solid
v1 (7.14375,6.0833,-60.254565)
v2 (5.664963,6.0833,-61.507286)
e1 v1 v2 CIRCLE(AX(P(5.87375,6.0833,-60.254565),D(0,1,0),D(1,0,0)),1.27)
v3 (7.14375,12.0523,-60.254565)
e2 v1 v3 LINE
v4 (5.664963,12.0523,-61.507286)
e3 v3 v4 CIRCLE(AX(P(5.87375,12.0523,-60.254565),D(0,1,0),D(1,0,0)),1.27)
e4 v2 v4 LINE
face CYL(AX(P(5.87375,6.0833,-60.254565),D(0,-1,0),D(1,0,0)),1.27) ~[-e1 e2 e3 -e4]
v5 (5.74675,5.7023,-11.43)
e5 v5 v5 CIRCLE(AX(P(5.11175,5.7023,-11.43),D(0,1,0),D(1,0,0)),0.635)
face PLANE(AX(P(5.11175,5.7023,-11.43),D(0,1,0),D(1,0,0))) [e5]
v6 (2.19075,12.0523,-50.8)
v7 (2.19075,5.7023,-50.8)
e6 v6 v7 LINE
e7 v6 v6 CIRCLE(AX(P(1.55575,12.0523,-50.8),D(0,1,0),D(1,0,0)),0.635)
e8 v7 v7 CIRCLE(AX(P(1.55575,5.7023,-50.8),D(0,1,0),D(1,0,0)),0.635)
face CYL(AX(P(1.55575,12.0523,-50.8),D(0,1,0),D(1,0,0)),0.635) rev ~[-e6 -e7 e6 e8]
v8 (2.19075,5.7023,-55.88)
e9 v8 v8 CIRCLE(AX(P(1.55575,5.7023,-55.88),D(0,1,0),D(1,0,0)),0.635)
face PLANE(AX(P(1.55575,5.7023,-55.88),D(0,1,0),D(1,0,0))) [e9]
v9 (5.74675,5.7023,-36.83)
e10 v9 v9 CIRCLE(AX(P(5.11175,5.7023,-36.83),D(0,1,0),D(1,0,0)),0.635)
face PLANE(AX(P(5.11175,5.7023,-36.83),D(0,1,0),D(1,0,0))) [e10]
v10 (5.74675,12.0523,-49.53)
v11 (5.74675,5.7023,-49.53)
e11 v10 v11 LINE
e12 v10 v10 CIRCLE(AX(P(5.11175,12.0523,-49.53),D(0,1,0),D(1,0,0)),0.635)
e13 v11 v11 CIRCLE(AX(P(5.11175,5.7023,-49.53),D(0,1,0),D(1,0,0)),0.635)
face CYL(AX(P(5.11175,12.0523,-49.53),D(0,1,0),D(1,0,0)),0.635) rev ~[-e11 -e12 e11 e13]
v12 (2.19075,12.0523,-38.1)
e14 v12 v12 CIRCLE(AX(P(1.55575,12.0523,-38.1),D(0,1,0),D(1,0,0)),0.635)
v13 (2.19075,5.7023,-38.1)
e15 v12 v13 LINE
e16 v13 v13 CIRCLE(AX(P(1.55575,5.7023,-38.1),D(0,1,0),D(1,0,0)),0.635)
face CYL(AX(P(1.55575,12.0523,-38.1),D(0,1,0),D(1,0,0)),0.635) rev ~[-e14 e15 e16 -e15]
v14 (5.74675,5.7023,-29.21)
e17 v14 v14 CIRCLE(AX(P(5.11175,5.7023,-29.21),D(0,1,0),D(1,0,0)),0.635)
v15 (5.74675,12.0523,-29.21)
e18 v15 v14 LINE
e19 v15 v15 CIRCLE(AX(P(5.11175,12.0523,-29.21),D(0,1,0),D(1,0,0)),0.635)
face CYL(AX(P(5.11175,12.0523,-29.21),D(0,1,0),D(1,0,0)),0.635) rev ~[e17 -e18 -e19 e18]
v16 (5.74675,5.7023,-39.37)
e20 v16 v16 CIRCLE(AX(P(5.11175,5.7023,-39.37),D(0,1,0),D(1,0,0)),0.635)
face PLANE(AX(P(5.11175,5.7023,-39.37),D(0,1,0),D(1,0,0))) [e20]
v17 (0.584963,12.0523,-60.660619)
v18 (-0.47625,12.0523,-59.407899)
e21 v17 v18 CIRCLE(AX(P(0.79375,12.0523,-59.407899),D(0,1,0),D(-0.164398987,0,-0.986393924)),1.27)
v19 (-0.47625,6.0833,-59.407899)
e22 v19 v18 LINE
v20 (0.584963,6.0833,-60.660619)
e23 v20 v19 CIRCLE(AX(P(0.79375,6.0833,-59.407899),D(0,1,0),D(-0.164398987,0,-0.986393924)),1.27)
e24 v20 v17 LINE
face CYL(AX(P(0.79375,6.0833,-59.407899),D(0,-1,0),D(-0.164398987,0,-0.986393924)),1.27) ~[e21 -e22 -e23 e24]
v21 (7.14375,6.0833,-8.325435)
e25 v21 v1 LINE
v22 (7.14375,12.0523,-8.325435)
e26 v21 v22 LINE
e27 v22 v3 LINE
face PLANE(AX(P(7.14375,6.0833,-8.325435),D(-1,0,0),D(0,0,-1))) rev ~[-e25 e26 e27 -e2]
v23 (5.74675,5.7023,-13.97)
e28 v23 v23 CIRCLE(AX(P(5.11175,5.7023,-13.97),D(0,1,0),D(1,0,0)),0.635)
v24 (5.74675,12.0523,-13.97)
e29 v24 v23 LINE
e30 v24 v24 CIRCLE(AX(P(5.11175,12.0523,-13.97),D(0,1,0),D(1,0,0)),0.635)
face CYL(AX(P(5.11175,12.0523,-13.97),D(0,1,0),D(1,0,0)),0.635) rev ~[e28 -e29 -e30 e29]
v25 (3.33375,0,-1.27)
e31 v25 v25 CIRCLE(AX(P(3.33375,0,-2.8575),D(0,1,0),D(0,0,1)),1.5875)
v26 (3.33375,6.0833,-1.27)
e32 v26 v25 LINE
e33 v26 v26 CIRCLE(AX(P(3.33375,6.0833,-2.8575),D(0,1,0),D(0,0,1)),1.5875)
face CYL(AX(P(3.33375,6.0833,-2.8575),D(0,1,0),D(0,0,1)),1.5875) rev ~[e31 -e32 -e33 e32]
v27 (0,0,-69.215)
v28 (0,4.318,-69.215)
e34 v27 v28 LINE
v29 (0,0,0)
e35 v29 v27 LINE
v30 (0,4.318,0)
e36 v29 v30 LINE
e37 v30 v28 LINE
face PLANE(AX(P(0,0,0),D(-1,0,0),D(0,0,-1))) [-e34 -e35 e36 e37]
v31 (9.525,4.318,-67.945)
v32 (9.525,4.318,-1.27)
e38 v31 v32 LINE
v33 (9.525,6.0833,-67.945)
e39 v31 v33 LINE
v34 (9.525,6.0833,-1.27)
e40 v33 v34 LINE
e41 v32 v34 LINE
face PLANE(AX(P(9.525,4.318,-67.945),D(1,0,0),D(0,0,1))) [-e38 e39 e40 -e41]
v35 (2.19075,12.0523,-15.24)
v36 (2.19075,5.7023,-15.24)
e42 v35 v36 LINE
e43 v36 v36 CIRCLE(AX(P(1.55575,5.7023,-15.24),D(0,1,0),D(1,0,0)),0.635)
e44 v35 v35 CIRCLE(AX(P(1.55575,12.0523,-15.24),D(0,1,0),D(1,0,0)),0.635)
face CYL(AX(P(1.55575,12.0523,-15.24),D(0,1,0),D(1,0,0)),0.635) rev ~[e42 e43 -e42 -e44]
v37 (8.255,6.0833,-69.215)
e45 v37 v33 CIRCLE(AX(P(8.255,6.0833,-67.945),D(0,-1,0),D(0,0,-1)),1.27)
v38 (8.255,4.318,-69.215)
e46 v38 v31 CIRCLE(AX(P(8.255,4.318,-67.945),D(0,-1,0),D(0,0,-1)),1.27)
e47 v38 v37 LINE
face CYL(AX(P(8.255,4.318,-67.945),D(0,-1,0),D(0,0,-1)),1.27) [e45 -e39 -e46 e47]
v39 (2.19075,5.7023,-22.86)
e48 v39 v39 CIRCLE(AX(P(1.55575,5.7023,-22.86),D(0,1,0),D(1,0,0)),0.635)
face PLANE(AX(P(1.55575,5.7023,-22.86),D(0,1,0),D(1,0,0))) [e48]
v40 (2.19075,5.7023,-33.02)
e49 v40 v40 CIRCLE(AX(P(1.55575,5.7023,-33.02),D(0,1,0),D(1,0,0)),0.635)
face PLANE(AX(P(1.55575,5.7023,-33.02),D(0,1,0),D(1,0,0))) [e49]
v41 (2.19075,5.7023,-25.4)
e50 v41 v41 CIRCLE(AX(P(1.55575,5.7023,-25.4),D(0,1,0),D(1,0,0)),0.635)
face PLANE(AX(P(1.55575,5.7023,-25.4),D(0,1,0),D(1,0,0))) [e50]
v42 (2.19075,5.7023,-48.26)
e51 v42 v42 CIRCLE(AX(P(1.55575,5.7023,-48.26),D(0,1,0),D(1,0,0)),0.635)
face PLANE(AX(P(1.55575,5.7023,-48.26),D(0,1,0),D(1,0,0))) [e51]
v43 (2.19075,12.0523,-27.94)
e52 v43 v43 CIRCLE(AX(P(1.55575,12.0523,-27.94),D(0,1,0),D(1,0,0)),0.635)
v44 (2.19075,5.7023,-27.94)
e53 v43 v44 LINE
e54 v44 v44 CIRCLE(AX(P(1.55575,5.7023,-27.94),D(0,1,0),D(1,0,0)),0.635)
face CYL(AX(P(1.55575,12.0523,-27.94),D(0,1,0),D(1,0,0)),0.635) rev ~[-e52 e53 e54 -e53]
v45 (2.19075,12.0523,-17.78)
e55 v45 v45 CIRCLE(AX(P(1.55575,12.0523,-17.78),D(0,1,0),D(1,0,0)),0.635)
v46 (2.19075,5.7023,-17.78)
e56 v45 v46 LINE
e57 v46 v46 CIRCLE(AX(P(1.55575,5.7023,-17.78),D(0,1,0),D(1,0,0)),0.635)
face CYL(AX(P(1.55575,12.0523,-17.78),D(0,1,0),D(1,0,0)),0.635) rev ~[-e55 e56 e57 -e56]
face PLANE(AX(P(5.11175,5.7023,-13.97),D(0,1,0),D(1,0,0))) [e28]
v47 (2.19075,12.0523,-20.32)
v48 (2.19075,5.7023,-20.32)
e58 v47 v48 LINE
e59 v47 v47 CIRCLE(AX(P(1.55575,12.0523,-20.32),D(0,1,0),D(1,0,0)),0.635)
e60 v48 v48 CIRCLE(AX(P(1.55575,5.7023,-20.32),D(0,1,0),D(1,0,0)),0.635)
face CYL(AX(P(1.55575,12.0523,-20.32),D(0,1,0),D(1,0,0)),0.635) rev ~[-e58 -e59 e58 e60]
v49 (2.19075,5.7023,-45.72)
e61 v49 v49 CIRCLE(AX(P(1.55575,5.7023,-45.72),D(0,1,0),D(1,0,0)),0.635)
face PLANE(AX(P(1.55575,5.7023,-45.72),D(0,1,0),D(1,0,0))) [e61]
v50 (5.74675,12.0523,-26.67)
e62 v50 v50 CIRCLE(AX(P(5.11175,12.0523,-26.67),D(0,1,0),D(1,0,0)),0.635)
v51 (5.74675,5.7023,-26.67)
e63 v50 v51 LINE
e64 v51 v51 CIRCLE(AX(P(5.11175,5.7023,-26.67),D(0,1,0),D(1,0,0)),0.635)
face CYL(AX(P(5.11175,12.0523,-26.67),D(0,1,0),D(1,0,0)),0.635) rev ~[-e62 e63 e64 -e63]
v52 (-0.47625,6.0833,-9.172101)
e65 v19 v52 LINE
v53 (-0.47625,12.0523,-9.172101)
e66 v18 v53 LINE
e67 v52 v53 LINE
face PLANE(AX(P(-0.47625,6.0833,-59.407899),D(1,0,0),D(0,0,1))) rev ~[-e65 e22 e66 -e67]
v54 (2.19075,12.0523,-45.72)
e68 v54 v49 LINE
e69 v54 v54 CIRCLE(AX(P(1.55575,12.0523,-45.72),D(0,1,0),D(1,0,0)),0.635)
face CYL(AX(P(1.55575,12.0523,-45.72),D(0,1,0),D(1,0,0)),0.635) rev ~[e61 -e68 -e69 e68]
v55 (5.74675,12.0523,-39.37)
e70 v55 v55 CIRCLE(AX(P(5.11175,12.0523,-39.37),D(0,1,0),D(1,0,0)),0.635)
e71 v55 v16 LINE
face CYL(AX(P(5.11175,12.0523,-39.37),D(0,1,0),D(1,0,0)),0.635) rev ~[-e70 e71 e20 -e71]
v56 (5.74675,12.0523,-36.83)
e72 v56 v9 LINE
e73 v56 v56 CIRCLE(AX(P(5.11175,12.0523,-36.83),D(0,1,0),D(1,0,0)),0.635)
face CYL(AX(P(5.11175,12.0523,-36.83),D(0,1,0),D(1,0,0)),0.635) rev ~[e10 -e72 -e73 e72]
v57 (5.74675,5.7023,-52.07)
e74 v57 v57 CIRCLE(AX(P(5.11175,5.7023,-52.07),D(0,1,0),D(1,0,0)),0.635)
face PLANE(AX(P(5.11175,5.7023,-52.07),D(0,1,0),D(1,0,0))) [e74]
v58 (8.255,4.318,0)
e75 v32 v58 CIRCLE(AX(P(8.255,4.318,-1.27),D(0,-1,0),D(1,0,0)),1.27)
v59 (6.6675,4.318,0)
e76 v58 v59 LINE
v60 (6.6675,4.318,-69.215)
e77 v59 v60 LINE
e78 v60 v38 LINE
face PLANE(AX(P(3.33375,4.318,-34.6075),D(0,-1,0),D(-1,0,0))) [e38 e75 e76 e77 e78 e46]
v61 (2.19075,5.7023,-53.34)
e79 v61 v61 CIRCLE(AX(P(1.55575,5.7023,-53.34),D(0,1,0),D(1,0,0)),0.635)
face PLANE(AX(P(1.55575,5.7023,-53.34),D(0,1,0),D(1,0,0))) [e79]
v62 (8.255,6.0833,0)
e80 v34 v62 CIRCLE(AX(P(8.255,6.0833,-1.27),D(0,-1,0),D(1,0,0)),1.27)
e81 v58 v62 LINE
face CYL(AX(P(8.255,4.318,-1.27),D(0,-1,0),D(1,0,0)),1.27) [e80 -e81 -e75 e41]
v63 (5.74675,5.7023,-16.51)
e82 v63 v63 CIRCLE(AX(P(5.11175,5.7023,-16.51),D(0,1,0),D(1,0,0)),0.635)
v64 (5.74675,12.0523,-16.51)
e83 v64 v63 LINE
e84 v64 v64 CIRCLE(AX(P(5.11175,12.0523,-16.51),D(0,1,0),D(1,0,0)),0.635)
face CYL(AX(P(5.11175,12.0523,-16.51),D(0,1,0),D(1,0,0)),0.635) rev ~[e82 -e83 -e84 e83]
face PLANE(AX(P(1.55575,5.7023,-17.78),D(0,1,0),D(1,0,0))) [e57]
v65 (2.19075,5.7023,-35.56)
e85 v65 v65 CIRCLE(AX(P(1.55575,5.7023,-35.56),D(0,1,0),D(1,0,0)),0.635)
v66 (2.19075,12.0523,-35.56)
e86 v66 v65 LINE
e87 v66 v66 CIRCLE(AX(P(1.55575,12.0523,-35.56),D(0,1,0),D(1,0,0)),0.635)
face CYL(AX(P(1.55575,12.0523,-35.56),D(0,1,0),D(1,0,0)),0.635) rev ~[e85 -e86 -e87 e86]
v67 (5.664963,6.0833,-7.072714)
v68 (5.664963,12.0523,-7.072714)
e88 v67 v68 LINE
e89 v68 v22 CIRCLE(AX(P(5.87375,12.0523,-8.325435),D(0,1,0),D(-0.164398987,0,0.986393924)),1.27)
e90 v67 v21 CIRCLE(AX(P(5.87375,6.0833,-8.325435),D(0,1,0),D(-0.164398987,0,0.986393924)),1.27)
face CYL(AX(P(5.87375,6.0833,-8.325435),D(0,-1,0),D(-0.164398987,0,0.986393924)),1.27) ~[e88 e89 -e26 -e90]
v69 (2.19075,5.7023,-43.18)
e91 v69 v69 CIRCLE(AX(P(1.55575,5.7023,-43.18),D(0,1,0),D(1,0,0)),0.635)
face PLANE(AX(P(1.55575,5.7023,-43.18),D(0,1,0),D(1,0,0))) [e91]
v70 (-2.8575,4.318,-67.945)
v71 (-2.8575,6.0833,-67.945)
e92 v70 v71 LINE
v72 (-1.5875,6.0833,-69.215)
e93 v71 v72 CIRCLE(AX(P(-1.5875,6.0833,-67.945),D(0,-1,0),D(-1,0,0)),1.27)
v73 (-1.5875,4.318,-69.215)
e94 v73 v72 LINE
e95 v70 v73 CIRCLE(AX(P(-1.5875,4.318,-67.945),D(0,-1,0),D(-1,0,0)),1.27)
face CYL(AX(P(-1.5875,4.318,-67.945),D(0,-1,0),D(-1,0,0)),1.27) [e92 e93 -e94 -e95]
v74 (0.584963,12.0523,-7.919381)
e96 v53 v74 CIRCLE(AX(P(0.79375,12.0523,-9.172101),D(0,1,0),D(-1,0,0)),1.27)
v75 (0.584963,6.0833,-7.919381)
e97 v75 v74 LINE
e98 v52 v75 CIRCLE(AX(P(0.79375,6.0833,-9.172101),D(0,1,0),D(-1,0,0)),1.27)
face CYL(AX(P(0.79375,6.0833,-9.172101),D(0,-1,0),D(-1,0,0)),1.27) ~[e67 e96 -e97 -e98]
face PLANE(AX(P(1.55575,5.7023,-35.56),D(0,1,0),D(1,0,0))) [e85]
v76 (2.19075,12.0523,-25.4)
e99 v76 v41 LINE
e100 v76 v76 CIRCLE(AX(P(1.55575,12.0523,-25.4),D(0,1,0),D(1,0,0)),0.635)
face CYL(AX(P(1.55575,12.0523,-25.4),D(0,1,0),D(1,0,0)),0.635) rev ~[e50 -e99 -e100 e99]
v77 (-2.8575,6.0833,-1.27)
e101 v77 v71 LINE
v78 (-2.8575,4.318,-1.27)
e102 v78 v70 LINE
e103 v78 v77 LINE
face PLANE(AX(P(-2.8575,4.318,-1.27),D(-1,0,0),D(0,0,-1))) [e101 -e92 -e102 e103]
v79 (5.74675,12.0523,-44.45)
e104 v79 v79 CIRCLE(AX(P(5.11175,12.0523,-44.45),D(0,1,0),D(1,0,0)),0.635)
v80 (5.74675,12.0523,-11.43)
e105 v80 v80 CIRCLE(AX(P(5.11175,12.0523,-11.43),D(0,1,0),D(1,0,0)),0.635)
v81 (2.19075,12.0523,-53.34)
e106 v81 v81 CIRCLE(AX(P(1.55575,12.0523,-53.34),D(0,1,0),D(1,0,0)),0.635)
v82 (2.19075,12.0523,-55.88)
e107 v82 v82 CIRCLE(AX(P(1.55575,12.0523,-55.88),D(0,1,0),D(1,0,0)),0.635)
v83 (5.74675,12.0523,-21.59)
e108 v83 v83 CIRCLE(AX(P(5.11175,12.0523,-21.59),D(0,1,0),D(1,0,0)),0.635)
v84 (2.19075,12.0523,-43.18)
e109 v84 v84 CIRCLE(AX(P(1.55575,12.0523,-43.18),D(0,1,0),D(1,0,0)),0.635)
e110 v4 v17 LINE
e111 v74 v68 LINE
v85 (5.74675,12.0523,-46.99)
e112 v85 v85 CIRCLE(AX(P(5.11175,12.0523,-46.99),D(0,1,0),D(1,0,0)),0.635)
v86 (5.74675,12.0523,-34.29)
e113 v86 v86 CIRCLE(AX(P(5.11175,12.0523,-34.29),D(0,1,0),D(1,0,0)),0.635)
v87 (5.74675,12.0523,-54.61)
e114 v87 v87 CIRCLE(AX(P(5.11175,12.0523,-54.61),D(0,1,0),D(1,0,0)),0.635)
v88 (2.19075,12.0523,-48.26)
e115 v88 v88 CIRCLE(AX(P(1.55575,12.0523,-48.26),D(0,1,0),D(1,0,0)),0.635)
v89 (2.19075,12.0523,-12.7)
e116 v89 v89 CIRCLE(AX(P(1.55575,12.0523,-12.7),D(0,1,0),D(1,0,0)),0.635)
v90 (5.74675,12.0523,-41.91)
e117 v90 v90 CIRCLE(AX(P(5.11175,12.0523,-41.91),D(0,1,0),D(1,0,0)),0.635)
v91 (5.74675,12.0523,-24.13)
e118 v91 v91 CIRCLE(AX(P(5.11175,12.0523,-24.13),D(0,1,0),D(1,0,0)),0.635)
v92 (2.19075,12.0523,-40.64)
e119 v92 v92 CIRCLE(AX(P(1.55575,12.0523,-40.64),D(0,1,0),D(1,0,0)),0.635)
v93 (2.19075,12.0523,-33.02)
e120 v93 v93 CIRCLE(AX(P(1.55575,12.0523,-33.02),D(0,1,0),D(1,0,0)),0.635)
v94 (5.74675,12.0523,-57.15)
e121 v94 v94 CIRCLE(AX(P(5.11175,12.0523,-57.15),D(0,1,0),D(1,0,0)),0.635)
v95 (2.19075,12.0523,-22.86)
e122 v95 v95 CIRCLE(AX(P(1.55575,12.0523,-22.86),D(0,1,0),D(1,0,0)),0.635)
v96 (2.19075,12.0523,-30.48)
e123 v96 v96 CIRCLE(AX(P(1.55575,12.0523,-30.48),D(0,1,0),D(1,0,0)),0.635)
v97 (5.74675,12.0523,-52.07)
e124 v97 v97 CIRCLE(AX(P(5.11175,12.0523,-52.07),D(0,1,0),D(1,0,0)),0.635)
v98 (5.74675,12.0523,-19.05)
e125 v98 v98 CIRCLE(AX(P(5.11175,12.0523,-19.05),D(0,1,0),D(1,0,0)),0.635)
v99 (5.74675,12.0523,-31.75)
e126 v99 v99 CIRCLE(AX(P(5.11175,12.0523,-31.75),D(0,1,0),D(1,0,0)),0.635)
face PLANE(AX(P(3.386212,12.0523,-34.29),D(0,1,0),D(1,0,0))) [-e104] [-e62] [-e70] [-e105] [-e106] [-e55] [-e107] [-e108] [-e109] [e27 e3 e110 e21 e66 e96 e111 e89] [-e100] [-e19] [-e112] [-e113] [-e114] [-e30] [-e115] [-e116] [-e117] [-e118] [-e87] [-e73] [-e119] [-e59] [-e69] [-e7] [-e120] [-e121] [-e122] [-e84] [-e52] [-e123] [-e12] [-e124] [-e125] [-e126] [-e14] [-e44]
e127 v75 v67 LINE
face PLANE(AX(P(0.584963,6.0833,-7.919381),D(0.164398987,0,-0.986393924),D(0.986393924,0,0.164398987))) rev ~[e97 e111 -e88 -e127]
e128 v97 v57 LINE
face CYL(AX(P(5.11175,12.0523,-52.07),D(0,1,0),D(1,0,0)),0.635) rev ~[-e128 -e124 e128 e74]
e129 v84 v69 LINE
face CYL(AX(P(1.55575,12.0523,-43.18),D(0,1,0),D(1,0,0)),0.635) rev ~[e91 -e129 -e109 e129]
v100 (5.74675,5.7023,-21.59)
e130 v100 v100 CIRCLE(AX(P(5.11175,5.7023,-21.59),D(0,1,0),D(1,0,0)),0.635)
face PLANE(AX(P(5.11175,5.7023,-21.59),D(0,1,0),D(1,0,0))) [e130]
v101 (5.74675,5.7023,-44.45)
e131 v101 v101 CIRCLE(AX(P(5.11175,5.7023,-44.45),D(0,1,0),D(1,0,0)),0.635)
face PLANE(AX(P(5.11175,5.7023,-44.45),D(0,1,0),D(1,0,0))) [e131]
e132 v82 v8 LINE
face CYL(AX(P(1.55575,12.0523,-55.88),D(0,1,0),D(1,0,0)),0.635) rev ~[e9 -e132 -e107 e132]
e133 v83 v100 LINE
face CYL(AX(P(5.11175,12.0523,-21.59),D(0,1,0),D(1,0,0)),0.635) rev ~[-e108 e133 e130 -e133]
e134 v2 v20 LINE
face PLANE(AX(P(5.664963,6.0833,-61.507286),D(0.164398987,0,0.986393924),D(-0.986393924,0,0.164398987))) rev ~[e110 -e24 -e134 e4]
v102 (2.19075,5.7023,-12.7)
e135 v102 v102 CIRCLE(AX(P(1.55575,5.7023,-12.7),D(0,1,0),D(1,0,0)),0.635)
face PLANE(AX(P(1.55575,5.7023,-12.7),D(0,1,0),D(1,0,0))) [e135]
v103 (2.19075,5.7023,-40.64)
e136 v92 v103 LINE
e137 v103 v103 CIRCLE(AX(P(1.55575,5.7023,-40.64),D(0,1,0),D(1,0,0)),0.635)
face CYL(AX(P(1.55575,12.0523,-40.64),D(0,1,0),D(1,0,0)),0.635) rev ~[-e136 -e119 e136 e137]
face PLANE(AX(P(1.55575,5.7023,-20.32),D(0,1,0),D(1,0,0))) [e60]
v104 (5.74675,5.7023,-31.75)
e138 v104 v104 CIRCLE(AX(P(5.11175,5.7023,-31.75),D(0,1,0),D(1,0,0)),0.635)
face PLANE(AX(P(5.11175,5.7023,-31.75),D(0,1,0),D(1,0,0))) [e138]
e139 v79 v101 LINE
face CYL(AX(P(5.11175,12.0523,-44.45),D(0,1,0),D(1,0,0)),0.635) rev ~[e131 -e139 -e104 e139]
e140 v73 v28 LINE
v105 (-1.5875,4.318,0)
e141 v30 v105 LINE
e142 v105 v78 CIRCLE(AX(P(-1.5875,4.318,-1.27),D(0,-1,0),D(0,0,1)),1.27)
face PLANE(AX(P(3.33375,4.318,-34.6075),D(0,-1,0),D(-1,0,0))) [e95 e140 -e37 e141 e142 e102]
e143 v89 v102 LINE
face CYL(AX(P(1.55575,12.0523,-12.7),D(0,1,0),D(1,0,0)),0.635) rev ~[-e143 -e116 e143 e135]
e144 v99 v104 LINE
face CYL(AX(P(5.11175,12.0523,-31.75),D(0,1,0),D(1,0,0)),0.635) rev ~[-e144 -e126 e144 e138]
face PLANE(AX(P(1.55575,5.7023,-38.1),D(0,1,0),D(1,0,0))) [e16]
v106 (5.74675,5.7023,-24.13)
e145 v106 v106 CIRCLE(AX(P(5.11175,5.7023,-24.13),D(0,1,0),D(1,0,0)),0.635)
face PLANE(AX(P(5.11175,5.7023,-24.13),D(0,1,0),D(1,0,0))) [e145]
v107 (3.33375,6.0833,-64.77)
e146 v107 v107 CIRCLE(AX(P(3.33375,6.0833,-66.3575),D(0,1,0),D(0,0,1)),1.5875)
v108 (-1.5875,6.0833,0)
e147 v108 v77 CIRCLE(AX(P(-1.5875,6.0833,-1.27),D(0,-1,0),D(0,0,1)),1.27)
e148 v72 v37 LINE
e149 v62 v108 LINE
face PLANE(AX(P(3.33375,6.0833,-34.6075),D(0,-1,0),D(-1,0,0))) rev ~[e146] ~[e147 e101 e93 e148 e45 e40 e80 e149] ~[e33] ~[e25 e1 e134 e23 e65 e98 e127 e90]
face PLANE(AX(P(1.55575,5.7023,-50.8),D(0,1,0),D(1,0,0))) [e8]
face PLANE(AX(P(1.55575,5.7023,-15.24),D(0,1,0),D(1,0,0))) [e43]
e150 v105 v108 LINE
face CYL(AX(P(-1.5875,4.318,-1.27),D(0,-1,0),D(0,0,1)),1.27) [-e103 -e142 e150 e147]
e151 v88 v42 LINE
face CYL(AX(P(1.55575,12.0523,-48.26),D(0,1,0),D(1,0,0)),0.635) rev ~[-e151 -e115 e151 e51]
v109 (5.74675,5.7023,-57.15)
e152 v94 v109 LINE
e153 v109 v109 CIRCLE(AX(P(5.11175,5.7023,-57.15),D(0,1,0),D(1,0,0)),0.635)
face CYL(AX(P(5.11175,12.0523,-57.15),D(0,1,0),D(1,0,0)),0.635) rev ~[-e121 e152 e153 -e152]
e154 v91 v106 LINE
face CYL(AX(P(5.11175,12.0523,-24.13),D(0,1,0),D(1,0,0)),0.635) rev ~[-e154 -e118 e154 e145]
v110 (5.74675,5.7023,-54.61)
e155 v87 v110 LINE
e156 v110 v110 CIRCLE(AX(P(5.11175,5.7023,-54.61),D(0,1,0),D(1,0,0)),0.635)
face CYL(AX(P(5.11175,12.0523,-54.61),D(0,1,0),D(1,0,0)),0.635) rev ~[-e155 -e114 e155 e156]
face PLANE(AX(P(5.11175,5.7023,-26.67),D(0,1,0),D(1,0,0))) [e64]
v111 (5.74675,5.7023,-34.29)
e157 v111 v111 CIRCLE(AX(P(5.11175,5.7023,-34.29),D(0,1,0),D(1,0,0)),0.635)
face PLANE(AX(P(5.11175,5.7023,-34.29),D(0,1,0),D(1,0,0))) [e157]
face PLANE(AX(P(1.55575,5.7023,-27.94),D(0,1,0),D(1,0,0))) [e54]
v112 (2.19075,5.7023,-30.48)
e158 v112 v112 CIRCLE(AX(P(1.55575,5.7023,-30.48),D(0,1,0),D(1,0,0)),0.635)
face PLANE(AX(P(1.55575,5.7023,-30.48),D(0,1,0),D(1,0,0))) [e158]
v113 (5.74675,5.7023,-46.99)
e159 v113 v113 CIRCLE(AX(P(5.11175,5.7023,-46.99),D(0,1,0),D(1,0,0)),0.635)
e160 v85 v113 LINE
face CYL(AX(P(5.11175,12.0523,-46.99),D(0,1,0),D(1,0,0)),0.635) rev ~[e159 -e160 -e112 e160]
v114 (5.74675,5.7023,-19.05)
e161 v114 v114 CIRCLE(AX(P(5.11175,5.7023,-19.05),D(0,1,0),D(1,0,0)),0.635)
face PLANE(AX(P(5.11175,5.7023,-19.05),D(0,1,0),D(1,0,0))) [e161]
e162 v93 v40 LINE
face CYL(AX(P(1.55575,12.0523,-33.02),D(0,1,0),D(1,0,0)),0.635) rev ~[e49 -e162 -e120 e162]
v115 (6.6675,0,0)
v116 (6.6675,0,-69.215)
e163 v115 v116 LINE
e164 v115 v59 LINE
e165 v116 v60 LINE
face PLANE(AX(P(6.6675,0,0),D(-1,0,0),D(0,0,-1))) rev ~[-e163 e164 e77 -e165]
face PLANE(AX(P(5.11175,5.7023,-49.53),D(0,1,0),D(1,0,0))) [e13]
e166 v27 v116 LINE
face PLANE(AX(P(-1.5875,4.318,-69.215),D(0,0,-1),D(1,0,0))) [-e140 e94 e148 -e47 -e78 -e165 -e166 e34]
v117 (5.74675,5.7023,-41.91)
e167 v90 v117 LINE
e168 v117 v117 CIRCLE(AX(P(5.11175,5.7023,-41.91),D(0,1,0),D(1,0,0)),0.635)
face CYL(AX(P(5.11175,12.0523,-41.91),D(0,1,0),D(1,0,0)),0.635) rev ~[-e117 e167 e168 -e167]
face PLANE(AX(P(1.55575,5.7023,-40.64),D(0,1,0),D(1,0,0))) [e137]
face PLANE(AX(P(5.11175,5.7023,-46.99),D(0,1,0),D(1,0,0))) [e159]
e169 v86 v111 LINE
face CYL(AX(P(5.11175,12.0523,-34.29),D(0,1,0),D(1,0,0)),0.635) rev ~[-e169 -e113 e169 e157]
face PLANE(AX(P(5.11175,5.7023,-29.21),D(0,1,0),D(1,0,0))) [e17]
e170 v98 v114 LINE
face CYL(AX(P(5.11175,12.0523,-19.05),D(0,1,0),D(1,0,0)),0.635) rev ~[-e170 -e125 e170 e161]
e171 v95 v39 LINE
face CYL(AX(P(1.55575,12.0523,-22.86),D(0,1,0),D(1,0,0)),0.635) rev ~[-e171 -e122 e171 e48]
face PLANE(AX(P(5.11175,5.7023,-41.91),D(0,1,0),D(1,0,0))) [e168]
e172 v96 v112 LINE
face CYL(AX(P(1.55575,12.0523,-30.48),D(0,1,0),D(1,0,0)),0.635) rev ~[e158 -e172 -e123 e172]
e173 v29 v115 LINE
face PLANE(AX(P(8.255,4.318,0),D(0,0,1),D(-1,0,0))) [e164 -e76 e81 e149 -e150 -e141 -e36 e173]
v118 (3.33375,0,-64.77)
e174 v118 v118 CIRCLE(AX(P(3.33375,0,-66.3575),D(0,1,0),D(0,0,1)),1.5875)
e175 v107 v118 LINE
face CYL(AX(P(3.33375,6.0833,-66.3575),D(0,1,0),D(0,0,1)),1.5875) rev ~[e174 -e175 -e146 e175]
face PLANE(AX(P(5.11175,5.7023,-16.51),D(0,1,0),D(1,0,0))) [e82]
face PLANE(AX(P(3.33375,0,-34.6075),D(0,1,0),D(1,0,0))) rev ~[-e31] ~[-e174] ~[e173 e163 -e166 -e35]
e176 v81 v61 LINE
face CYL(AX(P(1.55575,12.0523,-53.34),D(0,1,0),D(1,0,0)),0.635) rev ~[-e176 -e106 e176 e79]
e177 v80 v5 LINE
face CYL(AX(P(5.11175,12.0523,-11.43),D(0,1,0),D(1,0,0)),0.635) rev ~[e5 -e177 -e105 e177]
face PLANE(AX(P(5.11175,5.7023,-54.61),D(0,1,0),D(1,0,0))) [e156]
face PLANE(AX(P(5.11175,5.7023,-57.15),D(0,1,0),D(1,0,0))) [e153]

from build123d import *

# Parameters (mm, degrees)
SKETCH1_W      = 6.6675
SKETCH1_H      = 69.215
EXTRUDE1_DEPTH = 4.318
EXTRUDE2_DEPTH = 1.7653
EXTRUDE3_DEPTH = 5.969
SKETCH4_R      = 1.5875
EXTRUDE4_DEPTH = 71.131650408
SKETCH5_R      = 0.635
EXTRUDE5_DEPTH = 6.35


with BuildPart() as part:
    # Sketch1 → Extrude1 (new body)
    with BuildSketch(Plane(origin=(0, 0, 0), x_dir=(1, 0, 0), z_dir=(0, 1, 0))):
        with Locations((3.33375, 34.6075)):
            Rectangle(SKETCH1_W, SKETCH1_H)
    extrude(amount=EXTRUDE1_DEPTH)

    # Sketch2 → Extrude2 (add)
    with BuildSketch(Plane(origin=(0, 4.318, 0), x_dir=(1, 0, 0), z_dir=(0, 1, 0))):
        with BuildLine():
            Line((-1.5875, 69.215), (8.255, 69.215))
            ThreePointArc((8.255, 69.215), (9.153025612, 68.843025612), (9.525, 67.945))
            Line((9.525, 67.945), (9.525, 1.27))
            ThreePointArc((9.525, 1.27), (9.153025612, 0.371974388), (8.255, 0))
            Line((8.255, 0), (-1.5875, 0))
            ThreePointArc((-1.5875, 0), (-2.485525612, 0.371974388), (-2.8575, 1.27))
            Line((-2.8575, 1.27), (-2.8575, 67.945))
            ThreePointArc((-2.8575, 67.945), (-2.485525612, 68.843025612), (-1.5875, 69.215))
        make_face()
    extrude(amount=EXTRUDE2_DEPTH)

    # Sketch3 → Extrude3 (add)
    with BuildSketch(Plane(origin=(0, 6.0833, 0), x_dir=(1, 0, 0), z_dir=(0, 1, 0))):
        with BuildLine():
            Line((-0.47625, 59.407898598), (-0.47625, 9.172101402))
            ThreePointArc((-0.47625, 9.172101402), (-0.175285378, 8.351205284), (0.584963286, 7.919381119))
            Line((0.584963286, 7.919381119), (5.664963286, 7.072714452))
            ThreePointArc((5.664963286, 7.072714452), (6.694646118, 7.356399358), (7.14375, 8.325434736))
            Line((7.14375, 8.325434736), (7.14375, 60.254565264))
            ThreePointArc((7.14375, 60.254565264), (6.694646118, 61.223600642), (5.664963286, 61.507285548))
            Line((5.664963286, 61.507285548), (0.584963286, 60.660618881))
            ThreePointArc((0.584963286, 60.660618881), (-0.175285378, 60.228794716), (-0.47625, 59.407898598))
        make_face()
    extrude(amount=EXTRUDE3_DEPTH)

    # Sketch4 → Extrude4 (cut, through all)
    with BuildSketch(Plane(origin=(0, 6.0833, 0), x_dir=(1, 0, 0), z_dir=(0, 1, 0))):
        with Locations(Location((3.33375, 66.3575, 0), (0, 0, 270))):
            Circle(SKETCH4_R)
        with Locations(Location((3.33375, 2.8575, 0), (0, 0, 270))):
            Circle(SKETCH4_R)
    extrude(amount=-EXTRUDE4_DEPTH, mode=Mode.SUBTRACT)

    # Sketch5 → Extrude5 (cut)
    with BuildSketch(Plane(origin=(0, 12.0523, 0), x_dir=(1, 0, 0), z_dir=(0, 1, 0))):
        with Locations((5.11175, 57.15)):
            Circle(SKETCH5_R)
        with Locations((1.55575, 55.88)):
            Circle(SKETCH5_R)
        with Locations((5.11175, 54.61)):
            Circle(SKETCH5_R)
        with Locations((5.11175, 52.07)):
            Circle(SKETCH5_R)
        with Locations((5.11175, 49.53)):
            Circle(SKETCH5_R)
        with Locations((5.11175, 46.99)):
            Circle(SKETCH5_R)
        with Locations((5.11175, 44.45)):
            Circle(SKETCH5_R)
        with Locations((5.11175, 41.91)):
            Circle(SKETCH5_R)
        with Locations((5.11175, 39.37)):
            Circle(SKETCH5_R)
        with Locations((5.11175, 36.83)):
            Circle(SKETCH5_R)
        with Locations((5.11175, 34.29)):
            Circle(SKETCH5_R)
        with Locations((5.11175, 31.75)):
            Circle(SKETCH5_R)
        with Locations((5.11175, 29.21)):
            Circle(SKETCH5_R)
        with Locations((5.11175, 26.67)):
            Circle(SKETCH5_R)
        with Locations((5.11175, 24.13)):
            Circle(SKETCH5_R)
        with Locations((5.11175, 21.59)):
            Circle(SKETCH5_R)
        with Locations((5.11175, 19.05)):
            Circle(SKETCH5_R)
        with Locations((5.11175, 16.51)):
            Circle(SKETCH5_R)
        with Locations((5.11175, 13.97)):
            Circle(SKETCH5_R)
        with Locations((5.11175, 11.43)):
            Circle(SKETCH5_R)
        with Locations((1.55575, 53.34)):
            Circle(SKETCH5_R)
        with Locations((1.55575, 50.8)):
            Circle(SKETCH5_R)
        with Locations((1.55575, 48.26)):
            Circle(SKETCH5_R)
        with Locations((1.55575, 45.72)):
            Circle(SKETCH5_R)
        with Locations((1.55575, 43.18)):
            Circle(SKETCH5_R)
        with Locations((1.55575, 40.64)):
            Circle(SKETCH5_R)
        with Locations((1.55575, 38.1)):
            Circle(SKETCH5_R)
        with Locations((1.55575, 35.56)):
            Circle(SKETCH5_R)
        with Locations((1.55575, 33.02)):
            Circle(SKETCH5_R)
        with Locations((1.55575, 30.48)):
            Circle(SKETCH5_R)
        with Locations((1.55575, 27.94)):
            Circle(SKETCH5_R)
        with Locations((1.55575, 25.4)):
            Circle(SKETCH5_R)
        with Locations((1.55575, 22.86)):
            Circle(SKETCH5_R)
        with Locations((1.55575, 20.32)):
            Circle(SKETCH5_R)
        with Locations((1.55575, 17.78)):
            Circle(SKETCH5_R)
        with Locations((1.55575, 15.24)):
            Circle(SKETCH5_R)
        with Locations((1.55575, 12.7)):
            Circle(SKETCH5_R)
    extrude(amount=-EXTRUDE5_DEPTH, mode=Mode.SUBTRACT)


solid = part.part
